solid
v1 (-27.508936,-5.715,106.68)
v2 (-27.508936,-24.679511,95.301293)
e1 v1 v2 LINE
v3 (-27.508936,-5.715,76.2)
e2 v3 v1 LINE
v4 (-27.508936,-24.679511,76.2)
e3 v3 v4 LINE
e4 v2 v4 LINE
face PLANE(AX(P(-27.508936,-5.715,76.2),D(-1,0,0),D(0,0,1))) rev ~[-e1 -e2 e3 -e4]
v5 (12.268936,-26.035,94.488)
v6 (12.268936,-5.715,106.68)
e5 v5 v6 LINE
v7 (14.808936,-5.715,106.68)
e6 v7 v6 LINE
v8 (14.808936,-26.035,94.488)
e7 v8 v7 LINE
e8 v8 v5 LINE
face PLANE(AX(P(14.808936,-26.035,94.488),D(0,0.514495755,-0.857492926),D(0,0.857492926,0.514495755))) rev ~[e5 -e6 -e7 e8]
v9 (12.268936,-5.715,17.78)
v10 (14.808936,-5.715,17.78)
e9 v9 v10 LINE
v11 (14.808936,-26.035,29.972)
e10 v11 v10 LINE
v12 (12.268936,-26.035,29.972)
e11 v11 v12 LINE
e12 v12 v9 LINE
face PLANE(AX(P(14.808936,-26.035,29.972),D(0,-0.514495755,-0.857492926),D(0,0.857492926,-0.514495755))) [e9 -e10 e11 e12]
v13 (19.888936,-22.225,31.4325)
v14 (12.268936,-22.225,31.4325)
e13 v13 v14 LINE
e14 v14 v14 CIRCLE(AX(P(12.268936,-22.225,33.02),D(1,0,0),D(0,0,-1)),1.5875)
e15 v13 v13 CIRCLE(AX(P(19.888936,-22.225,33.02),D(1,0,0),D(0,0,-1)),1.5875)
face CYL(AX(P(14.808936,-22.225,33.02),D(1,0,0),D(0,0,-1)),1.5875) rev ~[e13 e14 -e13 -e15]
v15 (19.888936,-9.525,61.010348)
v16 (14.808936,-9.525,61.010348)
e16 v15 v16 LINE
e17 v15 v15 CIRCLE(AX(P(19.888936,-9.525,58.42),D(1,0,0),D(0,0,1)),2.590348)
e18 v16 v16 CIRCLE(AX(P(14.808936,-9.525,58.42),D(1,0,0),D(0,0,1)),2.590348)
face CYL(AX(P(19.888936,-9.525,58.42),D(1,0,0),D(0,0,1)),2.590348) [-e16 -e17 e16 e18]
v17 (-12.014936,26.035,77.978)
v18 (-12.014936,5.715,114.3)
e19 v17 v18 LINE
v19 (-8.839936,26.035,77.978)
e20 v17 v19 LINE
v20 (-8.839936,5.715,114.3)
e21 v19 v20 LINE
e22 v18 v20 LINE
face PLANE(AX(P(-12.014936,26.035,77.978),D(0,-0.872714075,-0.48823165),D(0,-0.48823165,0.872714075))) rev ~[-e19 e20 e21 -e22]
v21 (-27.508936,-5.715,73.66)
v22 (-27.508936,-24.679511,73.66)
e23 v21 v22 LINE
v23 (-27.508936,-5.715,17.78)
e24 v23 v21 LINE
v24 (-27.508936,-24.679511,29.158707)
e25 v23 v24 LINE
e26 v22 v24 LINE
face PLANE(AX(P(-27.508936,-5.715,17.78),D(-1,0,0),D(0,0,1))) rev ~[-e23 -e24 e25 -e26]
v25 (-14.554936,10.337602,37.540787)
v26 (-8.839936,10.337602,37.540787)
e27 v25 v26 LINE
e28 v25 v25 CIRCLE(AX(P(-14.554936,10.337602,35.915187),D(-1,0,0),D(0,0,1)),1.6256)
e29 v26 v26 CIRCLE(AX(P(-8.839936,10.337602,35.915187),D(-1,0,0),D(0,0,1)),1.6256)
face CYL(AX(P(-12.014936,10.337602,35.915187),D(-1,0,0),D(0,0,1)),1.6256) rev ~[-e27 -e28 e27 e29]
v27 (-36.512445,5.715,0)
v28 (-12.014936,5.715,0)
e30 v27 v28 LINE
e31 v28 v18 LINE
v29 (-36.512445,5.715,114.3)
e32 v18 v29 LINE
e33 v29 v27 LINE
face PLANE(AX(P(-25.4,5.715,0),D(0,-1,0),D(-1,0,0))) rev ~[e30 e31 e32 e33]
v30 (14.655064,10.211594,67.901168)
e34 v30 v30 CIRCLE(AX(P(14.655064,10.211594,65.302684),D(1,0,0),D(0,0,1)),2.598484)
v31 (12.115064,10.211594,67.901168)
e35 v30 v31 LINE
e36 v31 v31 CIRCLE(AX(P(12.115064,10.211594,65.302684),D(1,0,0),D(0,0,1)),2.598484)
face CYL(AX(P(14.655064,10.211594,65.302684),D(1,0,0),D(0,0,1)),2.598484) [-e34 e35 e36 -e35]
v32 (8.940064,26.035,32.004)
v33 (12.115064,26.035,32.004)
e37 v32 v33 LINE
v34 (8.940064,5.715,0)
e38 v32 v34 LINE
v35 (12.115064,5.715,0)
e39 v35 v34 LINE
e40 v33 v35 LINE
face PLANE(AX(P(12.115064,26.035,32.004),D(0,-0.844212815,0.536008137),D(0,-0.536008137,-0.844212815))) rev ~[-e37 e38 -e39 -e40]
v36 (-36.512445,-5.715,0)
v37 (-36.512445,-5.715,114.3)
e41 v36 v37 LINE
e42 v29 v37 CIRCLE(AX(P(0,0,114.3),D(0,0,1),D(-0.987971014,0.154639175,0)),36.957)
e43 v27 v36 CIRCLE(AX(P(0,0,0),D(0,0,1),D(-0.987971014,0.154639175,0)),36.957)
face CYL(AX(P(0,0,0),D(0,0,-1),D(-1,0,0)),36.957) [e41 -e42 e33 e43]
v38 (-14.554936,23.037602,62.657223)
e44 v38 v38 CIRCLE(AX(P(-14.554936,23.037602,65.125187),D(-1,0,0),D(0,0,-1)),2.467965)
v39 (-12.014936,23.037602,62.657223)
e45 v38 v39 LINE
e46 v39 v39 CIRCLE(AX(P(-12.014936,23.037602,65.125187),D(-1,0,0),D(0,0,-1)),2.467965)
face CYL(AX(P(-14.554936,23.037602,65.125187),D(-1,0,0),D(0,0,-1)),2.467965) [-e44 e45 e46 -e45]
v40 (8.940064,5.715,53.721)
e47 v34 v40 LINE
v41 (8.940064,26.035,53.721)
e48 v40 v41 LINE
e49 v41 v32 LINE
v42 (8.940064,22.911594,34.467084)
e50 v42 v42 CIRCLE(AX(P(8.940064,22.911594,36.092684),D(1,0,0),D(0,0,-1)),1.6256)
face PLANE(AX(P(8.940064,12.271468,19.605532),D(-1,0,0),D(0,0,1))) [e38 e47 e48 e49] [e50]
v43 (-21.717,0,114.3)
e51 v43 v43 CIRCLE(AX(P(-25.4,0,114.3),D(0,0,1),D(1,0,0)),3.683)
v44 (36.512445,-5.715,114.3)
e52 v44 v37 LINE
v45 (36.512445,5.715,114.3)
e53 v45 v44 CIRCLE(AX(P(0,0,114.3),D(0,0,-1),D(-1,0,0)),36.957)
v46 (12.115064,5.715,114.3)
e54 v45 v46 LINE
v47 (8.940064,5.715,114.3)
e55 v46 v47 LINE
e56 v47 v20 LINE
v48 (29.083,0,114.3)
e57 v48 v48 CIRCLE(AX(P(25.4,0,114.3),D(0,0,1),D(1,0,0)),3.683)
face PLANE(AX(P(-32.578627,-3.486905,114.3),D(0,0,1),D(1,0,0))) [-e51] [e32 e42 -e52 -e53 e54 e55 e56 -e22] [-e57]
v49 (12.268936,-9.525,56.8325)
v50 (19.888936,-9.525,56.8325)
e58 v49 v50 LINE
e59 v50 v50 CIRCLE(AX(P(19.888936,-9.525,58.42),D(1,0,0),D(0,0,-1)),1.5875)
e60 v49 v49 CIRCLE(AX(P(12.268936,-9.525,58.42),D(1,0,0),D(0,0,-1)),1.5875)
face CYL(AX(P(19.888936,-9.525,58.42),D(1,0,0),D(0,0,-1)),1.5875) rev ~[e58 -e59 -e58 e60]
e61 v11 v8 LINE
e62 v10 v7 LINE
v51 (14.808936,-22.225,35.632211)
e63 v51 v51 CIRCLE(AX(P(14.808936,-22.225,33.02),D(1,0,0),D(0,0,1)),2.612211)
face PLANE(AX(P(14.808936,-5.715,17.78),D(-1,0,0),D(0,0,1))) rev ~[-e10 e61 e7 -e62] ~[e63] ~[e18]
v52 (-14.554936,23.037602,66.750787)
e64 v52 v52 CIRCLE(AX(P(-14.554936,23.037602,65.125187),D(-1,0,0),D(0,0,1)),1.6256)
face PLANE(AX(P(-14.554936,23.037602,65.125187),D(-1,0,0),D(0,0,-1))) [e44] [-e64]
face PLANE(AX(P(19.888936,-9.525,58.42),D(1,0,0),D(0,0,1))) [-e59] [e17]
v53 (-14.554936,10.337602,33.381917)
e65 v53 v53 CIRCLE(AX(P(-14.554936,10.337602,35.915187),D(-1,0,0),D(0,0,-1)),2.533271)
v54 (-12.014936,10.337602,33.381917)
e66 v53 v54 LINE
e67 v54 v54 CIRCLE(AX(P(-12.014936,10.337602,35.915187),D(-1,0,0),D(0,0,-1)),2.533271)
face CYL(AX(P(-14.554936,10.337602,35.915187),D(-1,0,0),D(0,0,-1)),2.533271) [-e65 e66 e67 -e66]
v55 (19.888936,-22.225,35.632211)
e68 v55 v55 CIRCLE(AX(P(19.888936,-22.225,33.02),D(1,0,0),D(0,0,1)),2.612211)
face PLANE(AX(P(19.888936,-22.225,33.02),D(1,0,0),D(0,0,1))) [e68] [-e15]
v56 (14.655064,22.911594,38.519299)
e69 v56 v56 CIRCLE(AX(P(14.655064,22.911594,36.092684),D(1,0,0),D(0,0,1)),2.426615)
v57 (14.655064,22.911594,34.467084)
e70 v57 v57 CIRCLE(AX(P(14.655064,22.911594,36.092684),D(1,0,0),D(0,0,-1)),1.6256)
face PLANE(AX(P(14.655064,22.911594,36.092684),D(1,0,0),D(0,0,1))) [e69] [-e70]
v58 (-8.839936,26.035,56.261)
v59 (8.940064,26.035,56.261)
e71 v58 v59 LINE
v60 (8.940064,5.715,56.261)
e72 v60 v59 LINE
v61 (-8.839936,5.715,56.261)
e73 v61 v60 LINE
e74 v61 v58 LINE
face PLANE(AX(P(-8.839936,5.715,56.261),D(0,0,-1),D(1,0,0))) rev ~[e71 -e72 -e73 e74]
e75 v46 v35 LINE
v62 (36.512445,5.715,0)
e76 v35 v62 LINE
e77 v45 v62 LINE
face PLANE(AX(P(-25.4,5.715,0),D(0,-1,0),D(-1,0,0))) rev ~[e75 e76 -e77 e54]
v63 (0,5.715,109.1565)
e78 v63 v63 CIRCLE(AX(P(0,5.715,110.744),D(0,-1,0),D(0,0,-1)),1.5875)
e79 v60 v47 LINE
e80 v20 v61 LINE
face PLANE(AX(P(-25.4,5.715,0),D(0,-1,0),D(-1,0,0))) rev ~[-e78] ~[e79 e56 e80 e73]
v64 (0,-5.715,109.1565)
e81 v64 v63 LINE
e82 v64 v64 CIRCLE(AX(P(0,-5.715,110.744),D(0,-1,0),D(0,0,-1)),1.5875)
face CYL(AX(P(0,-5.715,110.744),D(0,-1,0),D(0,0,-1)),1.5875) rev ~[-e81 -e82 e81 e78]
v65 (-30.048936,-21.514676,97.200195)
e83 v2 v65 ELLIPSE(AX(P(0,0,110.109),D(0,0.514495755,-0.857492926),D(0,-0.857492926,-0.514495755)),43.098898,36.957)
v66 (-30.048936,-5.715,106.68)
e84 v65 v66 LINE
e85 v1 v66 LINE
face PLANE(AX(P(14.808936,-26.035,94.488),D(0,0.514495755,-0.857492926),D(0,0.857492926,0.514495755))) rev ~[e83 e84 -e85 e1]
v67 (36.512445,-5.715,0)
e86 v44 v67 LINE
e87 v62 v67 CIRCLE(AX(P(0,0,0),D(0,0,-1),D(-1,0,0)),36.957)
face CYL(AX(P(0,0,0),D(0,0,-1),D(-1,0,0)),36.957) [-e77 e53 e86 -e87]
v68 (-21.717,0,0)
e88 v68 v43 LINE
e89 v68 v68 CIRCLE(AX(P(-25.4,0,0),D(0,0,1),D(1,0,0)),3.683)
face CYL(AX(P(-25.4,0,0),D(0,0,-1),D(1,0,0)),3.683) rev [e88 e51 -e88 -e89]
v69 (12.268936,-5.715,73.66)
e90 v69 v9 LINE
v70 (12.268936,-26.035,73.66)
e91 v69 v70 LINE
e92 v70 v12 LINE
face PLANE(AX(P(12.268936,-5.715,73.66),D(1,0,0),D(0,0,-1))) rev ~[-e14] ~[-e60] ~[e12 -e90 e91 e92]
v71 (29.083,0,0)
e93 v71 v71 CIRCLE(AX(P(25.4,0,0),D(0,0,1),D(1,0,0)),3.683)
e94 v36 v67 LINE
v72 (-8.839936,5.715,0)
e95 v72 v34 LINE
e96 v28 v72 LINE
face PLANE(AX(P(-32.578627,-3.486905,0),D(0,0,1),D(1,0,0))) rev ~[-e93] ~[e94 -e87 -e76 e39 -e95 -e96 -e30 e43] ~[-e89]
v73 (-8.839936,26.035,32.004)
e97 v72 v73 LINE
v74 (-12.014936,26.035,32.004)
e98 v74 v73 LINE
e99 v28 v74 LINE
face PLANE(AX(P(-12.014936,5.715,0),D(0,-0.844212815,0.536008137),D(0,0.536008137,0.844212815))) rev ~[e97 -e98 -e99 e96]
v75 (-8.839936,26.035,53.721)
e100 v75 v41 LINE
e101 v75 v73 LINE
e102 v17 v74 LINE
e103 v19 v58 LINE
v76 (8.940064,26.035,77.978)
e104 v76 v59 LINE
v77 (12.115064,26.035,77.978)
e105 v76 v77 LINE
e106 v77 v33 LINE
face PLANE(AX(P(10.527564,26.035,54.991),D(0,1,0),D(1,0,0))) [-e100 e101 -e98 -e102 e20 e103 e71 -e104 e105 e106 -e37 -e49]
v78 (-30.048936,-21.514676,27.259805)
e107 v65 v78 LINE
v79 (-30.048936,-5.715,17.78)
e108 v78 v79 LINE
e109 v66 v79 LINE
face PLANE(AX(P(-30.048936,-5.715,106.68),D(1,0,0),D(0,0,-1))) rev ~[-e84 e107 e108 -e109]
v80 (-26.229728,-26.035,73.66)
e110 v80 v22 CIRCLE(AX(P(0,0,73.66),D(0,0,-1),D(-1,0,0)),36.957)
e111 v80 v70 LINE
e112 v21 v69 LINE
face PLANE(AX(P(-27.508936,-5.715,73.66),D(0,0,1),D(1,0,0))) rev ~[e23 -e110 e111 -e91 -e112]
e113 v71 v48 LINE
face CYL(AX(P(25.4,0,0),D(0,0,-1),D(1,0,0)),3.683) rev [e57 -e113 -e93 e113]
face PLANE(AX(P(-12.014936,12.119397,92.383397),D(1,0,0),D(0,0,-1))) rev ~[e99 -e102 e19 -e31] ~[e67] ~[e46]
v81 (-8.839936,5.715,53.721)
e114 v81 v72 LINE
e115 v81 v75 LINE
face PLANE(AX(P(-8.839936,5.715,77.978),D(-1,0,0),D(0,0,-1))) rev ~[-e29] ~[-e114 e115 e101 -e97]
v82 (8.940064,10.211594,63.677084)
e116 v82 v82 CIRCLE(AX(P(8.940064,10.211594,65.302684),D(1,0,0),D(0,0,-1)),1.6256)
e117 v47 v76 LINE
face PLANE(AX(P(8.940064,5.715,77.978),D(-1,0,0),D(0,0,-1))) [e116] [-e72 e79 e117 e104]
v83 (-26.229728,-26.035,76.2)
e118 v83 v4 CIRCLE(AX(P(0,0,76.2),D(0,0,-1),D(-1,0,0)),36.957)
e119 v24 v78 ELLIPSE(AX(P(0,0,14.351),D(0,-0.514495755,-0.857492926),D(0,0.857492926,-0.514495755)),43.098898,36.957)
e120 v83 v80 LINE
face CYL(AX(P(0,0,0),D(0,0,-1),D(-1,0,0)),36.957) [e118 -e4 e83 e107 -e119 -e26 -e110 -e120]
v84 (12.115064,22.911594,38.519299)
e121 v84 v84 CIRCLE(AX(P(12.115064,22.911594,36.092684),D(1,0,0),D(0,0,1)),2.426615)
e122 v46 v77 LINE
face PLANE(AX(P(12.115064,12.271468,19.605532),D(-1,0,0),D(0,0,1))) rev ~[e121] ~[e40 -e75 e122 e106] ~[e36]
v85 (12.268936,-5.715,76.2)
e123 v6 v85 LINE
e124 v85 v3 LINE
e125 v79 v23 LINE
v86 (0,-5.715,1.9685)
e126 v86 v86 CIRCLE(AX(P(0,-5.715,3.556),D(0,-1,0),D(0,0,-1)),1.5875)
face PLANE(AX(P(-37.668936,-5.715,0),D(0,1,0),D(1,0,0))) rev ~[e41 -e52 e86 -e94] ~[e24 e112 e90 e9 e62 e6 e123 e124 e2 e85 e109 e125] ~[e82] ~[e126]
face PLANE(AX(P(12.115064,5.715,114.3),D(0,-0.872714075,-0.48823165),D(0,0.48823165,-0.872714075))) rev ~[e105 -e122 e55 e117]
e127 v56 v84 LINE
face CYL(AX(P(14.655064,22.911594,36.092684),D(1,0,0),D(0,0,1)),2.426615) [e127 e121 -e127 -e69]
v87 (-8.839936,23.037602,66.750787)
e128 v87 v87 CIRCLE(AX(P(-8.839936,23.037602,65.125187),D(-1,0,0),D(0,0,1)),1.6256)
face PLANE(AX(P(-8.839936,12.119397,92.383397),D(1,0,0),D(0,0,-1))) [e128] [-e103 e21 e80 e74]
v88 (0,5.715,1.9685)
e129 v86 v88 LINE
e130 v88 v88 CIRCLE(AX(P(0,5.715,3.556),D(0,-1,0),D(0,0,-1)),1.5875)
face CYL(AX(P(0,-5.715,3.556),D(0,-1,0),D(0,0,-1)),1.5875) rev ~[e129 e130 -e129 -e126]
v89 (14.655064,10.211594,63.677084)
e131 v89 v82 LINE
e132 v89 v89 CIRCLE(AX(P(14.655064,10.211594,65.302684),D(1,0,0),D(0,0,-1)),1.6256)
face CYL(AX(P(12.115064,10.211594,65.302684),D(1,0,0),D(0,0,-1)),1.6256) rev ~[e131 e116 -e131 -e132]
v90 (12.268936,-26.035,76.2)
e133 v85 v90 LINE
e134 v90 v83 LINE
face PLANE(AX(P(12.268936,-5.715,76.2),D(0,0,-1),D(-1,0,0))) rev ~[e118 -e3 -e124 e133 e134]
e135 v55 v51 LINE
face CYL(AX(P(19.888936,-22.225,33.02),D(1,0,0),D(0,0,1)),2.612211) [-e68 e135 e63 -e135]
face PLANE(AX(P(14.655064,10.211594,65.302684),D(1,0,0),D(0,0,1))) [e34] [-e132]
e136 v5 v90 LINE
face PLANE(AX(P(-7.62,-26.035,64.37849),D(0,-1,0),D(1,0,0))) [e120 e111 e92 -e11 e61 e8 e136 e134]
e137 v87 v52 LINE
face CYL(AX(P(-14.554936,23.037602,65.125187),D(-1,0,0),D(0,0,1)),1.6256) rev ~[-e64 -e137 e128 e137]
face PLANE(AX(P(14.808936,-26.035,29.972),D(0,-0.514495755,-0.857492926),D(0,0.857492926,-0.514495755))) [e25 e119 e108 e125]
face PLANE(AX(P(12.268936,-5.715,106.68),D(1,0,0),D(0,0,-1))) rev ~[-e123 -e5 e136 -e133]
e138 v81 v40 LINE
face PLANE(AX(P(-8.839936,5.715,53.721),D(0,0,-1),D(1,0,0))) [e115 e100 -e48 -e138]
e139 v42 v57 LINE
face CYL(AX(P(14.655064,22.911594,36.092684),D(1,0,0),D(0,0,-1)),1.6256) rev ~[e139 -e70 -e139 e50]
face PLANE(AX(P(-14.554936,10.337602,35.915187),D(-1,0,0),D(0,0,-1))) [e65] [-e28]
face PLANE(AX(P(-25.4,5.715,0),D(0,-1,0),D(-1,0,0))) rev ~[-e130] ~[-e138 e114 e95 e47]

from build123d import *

# Parameters (mm, degrees)
SKETCH1_R            = 5.715
SKETCH1_R_2          = 3.683
BOSS_EXTRUDE2_DEPTH  = 114.3
SKETCH2_W            = 3.175
SKETCH2_H            = 45.974
BOSS_EXTRUDE3_DEPTH  = 20.32
SKETCH8_W            = 17.78
SKETCH8_H            = 2.54
BOSS_EXTRUDE6_DEPTH  = 20.32
BOSS_EXTRUDE9_DEPTH  = 20.32
CUT_EXTRUDE5_REACH   = 130.614
SKETCH10_R           = 1.5875
CUT_EXTRUDE6_REACH   = 126.596
SKETCH13_R           = 1.5875
BOSS_EXTRUDE14_DEPTH = 3.175
BOSS_EXTRUDE15_DEPTH = 3.175
BOSS_EXTRUDE16_START = 5.08
SKETCH12_R           = 2.590347575
SKETCH12_R_2         = 1.5875
SKETCH12_R_3         = 2.612210891
BOSS_EXTRUDE16_DEPTH = 5.08
CHAMFER1_SIZE        = 2.54
SKETCH21_R           = 1.6256
CUT_EXTRUDE7_DEPTH   = 5.08
SKETCH22_R           = 1.6256
CUT_EXTRUDE8_DEPTH   = 5.08
BOSS_EXTRUDE17_START = 2.54
SKETCH23_R           = 2.426614549
SKETCH23_R_2         = 1.6256
SKETCH23_R_3         = 2.598483989
BOSS_EXTRUDE17_DEPTH = 2.54
BOSS_EXTRUDE18_START = 2.54
SKETCH24_R           = 2.467964506
SKETCH24_R_2         = 1.6256
SKETCH24_R_3         = 2.533270714
BOSS_EXTRUDE18_DEPTH = 2.54
SKETCH25_R           = 48.771557558
SKETCH25_R_2         = 36.957
CUT_EXTRUDE9_DEPTH   = 124.263624906
CUT_EXTRUDE10_DEPTH  = 129.148442846


with BuildPart() as part:
    # Sketch1 → Boss-Extrude2 (new body)
    # profile 1 of 8: a face of its own
    with BuildSketch(Plane.XY):
        with BuildLine():
            Line((25.4, 5.715), (-25.4, 5.715))
            ThreePointArc((-25.4, 5.715), (-21.358884746, 4.041115254), (-19.685, 0))
            Line((-19.685, 0), (19.685, 0))
            ThreePointArc((19.685, 0), (21.358884746, 4.041115254), (25.4, 5.715))
        make_face()
    # profile 2 of 8: a face of its own
    with BuildSketch(Plane.XY):
        with Locations((-25.4, 0)):
            Circle(SKETCH1_R)
        with Locations((-25.4, 0)):
            Circle(SKETCH1_R_2, mode=Mode.SUBTRACT)
    # profile 3 of 8: a face of its own
    with BuildSketch(Plane.XY):
        with Locations((25.4, 0)):
            Circle(SKETCH1_R)
        with Locations((25.4, 0)):
            Circle(SKETCH1_R_2, mode=Mode.SUBTRACT)
    # profile 4 of 8: a face of its own
    with BuildSketch(Plane.XY):
        with BuildLine():
            ThreePointArc((-31.115, 0), (-29.441115254, 4.041115254), (-25.4, 5.715))
            Line((-25.4, 5.715), (-37.668936473, 5.715))
            ThreePointArc((-37.668936473, 5.715), (-37.992081278, 2.865616895), (-38.1, 0))
            Line((-38.1, 0), (-31.115, 0))
        make_face()
    # profile 5 of 8: a face of its own
    with BuildSketch(Plane.XY):
        with BuildLine():
            Line((37.668936473, 5.715), (25.4, 5.715))
            ThreePointArc((25.4, 5.715), (29.441115254, 4.041115254), (31.115, 0))
            Line((31.115, 0), (38.1, 0))
            ThreePointArc((38.1, 0), (37.992081278, 2.865616895), (37.668936473, 5.715))
        make_face()
    # profile 6 of 8: a face of its own
    with BuildSketch(Plane.XY):
        with BuildLine():
            Line((38.1, 0), (31.115, 0))
            ThreePointArc((31.115, 0), (29.441115254, -4.041115254), (25.4, -5.715))
            Line((25.4, -5.715), (37.668936473, -5.715))
            ThreePointArc((37.668936473, -5.715), (37.992081278, -2.865616895), (38.1, 0))
        make_face()
    # profile 7 of 8: a face of its own
    with BuildSketch(Plane.XY):
        with BuildLine():
            Line((19.685, 0), (-19.685, 0))
            ThreePointArc((-19.685, 0), (-21.358884746, -4.041115254), (-25.4, -5.715))
            Line((-25.4, -5.715), (25.4, -5.715))
            ThreePointArc((25.4, -5.715), (21.358884746, -4.041115254), (19.685, 0))
        make_face()
    # profile 8 of 8: a face of its own
    with BuildSketch(Plane.XY):
        with BuildLine():
            ThreePointArc((-25.4, -5.715), (-29.441115254, -4.041115254), (-31.115, 0))
            Line((-31.115, 0), (-38.1, 0))
            ThreePointArc((-38.1, 0), (-37.992081278, -2.865616895), (-37.668936473, -5.715))
            Line((-37.668936473, -5.715), (-25.4, -5.715))
        make_face()
    extrude(amount=BOSS_EXTRUDE2_DEPTH)

    # Sketch2 → Boss-Extrude3 (add)
    with BuildSketch(Plane(origin=(0, 5.715, 0), x_dir=(1, 0, 0), z_dir=(0, 1, 0))):
        with Locations((-10.427436473, -54.991)):
            Rectangle(SKETCH2_W, SKETCH2_H)
        with Locations((10.527563527, -54.991)):
            Rectangle(SKETCH2_W, SKETCH2_H)
    extrude(amount=BOSS_EXTRUDE3_DEPTH)

    # Sketch8 → Boss-Extrude6 (add)
    with BuildSketch(Plane(origin=(0, 5.715, 0), x_dir=(1, 0, 0), z_dir=(0, 1, 0))):
        with Locations((0.050063527, -54.991)):
            Rectangle(SKETCH8_W, SKETCH8_H)
    extrude(amount=BOSS_EXTRUDE6_DEPTH)

    # Sketch9 → Boss-Extrude9 (add)
    with BuildSketch(Plane.XZ.offset(5.715)):
        Polygon((12.268936473, 73.66), (12.268936473, 17.78), (14.808936473, 17.78), (14.808936473, 106.68), (12.268936473, 106.68), (12.268936473, 76.2), (-27.508936473, 76.2), (-27.508936473, 106.68), (-30.048936473, 106.68), (-30.048936473, 17.78), (-27.508936473, 17.78), (-27.508936473, 73.66), align=None)
    extrude(amount=BOSS_EXTRUDE9_DEPTH)

    # Sketch10 → Cut-Extrude5 (cut, up to next)
    with BuildSketch(Plane(origin=(14.808936473, 0, 0), x_dir=(0, 0, -1), z_dir=(1, 0, 0)), mode=Mode.PRIVATE) as cut_extrude5_sk1:
        with Locations((-58.42, -9.525)):
            Circle(SKETCH10_R)
    cut_extrude5_tool1 = extrude(cut_extrude5_sk1.sketch, amount=-CUT_EXTRUDE5_REACH, mode=Mode.PRIVATE) & part.part
    # Sketch10 → Cut-Extrude5 (cut, up to next)
    with BuildSketch(Plane(origin=(14.808936473, 0, 0), x_dir=(0, 0, -1), z_dir=(1, 0, 0)), mode=Mode.PRIVATE) as cut_extrude5_sk2:
        with Locations((-33.02, -22.225)):
            Circle(SKETCH10_R)
    cut_extrude5_tool2 = extrude(cut_extrude5_sk2.sketch, amount=-CUT_EXTRUDE5_REACH, mode=Mode.PRIVATE) & part.part
    add(cut_extrude5_tool1.solids().sort_by_distance((14.808936, -9.525, 58.42))[0], mode=Mode.SUBTRACT)
    add(cut_extrude5_tool2.solids().sort_by_distance((14.808936, -22.225, 33.02))[0], mode=Mode.SUBTRACT)

    # Sketch13 → Cut-Extrude6 (cut, up to next)
    with BuildSketch(Plane.XZ.offset(5.715), mode=Mode.PRIVATE) as cut_extrude6_sk1:
        with Locations(Location((0, 110.744, 0), (0, 0, 270))):
            Circle(SKETCH13_R)
    cut_extrude6_tool1 = extrude(cut_extrude6_sk1.sketch, amount=-CUT_EXTRUDE6_REACH, mode=Mode.PRIVATE) & part.part
    # Sketch13 → Cut-Extrude6 (cut, up to next)
    with BuildSketch(Plane.XZ.offset(5.715), mode=Mode.PRIVATE) as cut_extrude6_sk2:
        with Locations(Location((0, 3.556, 0), (0, 0, 270))):
            Circle(SKETCH13_R)
    cut_extrude6_tool2 = extrude(cut_extrude6_sk2.sketch, amount=-CUT_EXTRUDE6_REACH, mode=Mode.PRIVATE) & part.part
    add(cut_extrude6_tool1.solids().sort_by_distance((0, -5.715, 110.744))[0], mode=Mode.SUBTRACT)
    add(cut_extrude6_tool2.solids().sort_by_distance((0, -5.715, 3.556))[0], mode=Mode.SUBTRACT)

    # Sketch18 → Boss-Extrude14 (add)
    with BuildSketch(Plane.ZY.offset(12.014936473)):
        Polygon((77.978, 5.715), (77.978, 26.035), (114.3, 5.715), align=None)
        Polygon((32.004, 26.035), (32.004, 5.715), (0, 5.715), align=None)
    extrude(amount=-BOSS_EXTRUDE14_DEPTH)

    # Sketch19 → Boss-Extrude15 (add)
    with BuildSketch(Plane(origin=(12.115063527, 0, 0), x_dir=(0, 0, -1), z_dir=(1, 0, 0))):
        Polygon((-32.004, 26.035), (0, 5.715), (-32.004, 5.715), align=None)
        Polygon((-77.978, 5.715), (-114.3, 5.715), (-77.978, 26.035), align=None)
    extrude(amount=-BOSS_EXTRUDE15_DEPTH)

    # Sketch12 → Boss-Extrude16 (add)
    # profile 1 of 2: a face of its own
    with BuildSketch(Plane(origin=(14.808936473, 0, 0), x_dir=(0, 0, -1), z_dir=(1, 0, 0)).offset(BOSS_EXTRUDE16_START)):
        with Locations(Location((-58.42, -9.525, 0), (0, 0, 180))):
            Circle(SKETCH12_R)
        with Locations((-58.42, -9.525)):
            Circle(SKETCH12_R_2, mode=Mode.SUBTRACT)
    # profile 2 of 2: a face of its own
    with BuildSketch(Plane(origin=(14.808936473, 0, 0), x_dir=(0, 0, -1), z_dir=(1, 0, 0)).offset(BOSS_EXTRUDE16_START)):
        with Locations(Location((-33.02, -22.225, 0), (0, 0, 180))):
            Circle(SKETCH12_R_3)
        with Locations((-33.02, -22.225)):
            Circle(SKETCH12_R_2, mode=Mode.SUBTRACT)
    extrude(amount=-BOSS_EXTRUDE16_DEPTH)

    # Chamfer1
    chamfer1_edges = [part.edges().sort_by_distance(p)[0] for p in [
        (-30.048936473, -26.035, 62.23),
    ]]
    chamfer(chamfer1_edges, length=CHAMFER1_SIZE)

    # Sketch21 → Cut-Extrude7 (cut)
    with BuildSketch(Plane.ZY.offset(12.014936473)):
        with Locations((65.125187458, 23.037602192)):
            Circle(SKETCH21_R)
        with Locations((35.915187458, 10.337602192)):
            Circle(SKETCH21_R)
    extrude(amount=-CUT_EXTRUDE7_DEPTH, mode=Mode.SUBTRACT)

    # Sketch22 → Cut-Extrude8 (cut)
    with BuildSketch(Plane(origin=(12.115063527, 0, 0), x_dir=(0, 0, -1), z_dir=(1, 0, 0))):
        with Locations((-36.092684175, 22.91159358)):
            Circle(SKETCH22_R)
        with Locations((-65.302684175, 10.21159358)):
            Circle(SKETCH22_R)
    extrude(amount=-CUT_EXTRUDE8_DEPTH, mode=Mode.SUBTRACT)

    # Sketch23 → Boss-Extrude17 (add)
    # profile 1 of 2: a face of its own
    with BuildSketch(Plane(origin=(12.115063527, 0, 0), x_dir=(0, 0, -1), z_dir=(1, 0, 0)).offset(BOSS_EXTRUDE17_START)):
        with Locations(Location((-36.092684175, 22.91159358, 0), (0, 0, 180))):
            Circle(SKETCH23_R)
        with Locations((-36.092684175, 22.91159358)):
            Circle(SKETCH23_R_2, mode=Mode.SUBTRACT)
    # profile 2 of 2: a face of its own
    with BuildSketch(Plane(origin=(12.115063527, 0, 0), x_dir=(0, 0, -1), z_dir=(1, 0, 0)).offset(BOSS_EXTRUDE17_START)):
        with Locations(Location((-65.302684175, 10.21159358, 0), (0, 0, 180))):
            Circle(SKETCH23_R_3)
        with Locations((-65.302684175, 10.21159358)):
            Circle(SKETCH23_R_2, mode=Mode.SUBTRACT)
    extrude(amount=-BOSS_EXTRUDE17_DEPTH)

    # Sketch24 → Boss-Extrude18 (add)
    # profile 1 of 2: a face of its own
    with BuildSketch(Plane.ZY.offset(12.014936473).offset(BOSS_EXTRUDE18_START)):
        with Locations(Location((65.125187458, 23.037602192, 0), (0, 0, 180))):
            Circle(SKETCH24_R)
        with Locations((65.125187458, 23.037602192)):
            Circle(SKETCH24_R_2, mode=Mode.SUBTRACT)
    # profile 2 of 2: a face of its own
    with BuildSketch(Plane.ZY.offset(12.014936473).offset(BOSS_EXTRUDE18_START)):
        with Locations(Location((35.915187458, 10.337602192, 0), (0, 0, 180))):
            Circle(SKETCH24_R_3)
        with Locations((35.915187458, 10.337602192)):
            Circle(SKETCH24_R_2, mode=Mode.SUBTRACT)
    extrude(amount=-BOSS_EXTRUDE18_DEPTH)

    # Sketch25 → Cut-Extrude9 (cut, through all)
    with BuildSketch(Plane(origin=(0, 0, 0), x_dir=(-1, 0, 0), z_dir=(0, 0, -1))):
        Circle(SKETCH25_R)
        Circle(SKETCH25_R_2, mode=Mode.SUBTRACT)
    extrude(amount=-CUT_EXTRUDE9_DEPTH, mode=Mode.SUBTRACT)

    # Sketch26 → Cut-Extrude10 (cut, through all)
    with BuildSketch(Plane(origin=(14.808936473, 0, 0), x_dir=(0, 0, -1), z_dir=(1, 0, 0))):
        Polygon((-29.972, -26.035), (-17.78, -5.715), (-17.78, -26.035), align=None)
        Polygon((-106.68, -5.715), (-106.68, -26.035), (-94.488, -26.035), align=None)
    extrude(amount=-CUT_EXTRUDE10_DEPTH, mode=Mode.SUBTRACT)


solid = part.part
